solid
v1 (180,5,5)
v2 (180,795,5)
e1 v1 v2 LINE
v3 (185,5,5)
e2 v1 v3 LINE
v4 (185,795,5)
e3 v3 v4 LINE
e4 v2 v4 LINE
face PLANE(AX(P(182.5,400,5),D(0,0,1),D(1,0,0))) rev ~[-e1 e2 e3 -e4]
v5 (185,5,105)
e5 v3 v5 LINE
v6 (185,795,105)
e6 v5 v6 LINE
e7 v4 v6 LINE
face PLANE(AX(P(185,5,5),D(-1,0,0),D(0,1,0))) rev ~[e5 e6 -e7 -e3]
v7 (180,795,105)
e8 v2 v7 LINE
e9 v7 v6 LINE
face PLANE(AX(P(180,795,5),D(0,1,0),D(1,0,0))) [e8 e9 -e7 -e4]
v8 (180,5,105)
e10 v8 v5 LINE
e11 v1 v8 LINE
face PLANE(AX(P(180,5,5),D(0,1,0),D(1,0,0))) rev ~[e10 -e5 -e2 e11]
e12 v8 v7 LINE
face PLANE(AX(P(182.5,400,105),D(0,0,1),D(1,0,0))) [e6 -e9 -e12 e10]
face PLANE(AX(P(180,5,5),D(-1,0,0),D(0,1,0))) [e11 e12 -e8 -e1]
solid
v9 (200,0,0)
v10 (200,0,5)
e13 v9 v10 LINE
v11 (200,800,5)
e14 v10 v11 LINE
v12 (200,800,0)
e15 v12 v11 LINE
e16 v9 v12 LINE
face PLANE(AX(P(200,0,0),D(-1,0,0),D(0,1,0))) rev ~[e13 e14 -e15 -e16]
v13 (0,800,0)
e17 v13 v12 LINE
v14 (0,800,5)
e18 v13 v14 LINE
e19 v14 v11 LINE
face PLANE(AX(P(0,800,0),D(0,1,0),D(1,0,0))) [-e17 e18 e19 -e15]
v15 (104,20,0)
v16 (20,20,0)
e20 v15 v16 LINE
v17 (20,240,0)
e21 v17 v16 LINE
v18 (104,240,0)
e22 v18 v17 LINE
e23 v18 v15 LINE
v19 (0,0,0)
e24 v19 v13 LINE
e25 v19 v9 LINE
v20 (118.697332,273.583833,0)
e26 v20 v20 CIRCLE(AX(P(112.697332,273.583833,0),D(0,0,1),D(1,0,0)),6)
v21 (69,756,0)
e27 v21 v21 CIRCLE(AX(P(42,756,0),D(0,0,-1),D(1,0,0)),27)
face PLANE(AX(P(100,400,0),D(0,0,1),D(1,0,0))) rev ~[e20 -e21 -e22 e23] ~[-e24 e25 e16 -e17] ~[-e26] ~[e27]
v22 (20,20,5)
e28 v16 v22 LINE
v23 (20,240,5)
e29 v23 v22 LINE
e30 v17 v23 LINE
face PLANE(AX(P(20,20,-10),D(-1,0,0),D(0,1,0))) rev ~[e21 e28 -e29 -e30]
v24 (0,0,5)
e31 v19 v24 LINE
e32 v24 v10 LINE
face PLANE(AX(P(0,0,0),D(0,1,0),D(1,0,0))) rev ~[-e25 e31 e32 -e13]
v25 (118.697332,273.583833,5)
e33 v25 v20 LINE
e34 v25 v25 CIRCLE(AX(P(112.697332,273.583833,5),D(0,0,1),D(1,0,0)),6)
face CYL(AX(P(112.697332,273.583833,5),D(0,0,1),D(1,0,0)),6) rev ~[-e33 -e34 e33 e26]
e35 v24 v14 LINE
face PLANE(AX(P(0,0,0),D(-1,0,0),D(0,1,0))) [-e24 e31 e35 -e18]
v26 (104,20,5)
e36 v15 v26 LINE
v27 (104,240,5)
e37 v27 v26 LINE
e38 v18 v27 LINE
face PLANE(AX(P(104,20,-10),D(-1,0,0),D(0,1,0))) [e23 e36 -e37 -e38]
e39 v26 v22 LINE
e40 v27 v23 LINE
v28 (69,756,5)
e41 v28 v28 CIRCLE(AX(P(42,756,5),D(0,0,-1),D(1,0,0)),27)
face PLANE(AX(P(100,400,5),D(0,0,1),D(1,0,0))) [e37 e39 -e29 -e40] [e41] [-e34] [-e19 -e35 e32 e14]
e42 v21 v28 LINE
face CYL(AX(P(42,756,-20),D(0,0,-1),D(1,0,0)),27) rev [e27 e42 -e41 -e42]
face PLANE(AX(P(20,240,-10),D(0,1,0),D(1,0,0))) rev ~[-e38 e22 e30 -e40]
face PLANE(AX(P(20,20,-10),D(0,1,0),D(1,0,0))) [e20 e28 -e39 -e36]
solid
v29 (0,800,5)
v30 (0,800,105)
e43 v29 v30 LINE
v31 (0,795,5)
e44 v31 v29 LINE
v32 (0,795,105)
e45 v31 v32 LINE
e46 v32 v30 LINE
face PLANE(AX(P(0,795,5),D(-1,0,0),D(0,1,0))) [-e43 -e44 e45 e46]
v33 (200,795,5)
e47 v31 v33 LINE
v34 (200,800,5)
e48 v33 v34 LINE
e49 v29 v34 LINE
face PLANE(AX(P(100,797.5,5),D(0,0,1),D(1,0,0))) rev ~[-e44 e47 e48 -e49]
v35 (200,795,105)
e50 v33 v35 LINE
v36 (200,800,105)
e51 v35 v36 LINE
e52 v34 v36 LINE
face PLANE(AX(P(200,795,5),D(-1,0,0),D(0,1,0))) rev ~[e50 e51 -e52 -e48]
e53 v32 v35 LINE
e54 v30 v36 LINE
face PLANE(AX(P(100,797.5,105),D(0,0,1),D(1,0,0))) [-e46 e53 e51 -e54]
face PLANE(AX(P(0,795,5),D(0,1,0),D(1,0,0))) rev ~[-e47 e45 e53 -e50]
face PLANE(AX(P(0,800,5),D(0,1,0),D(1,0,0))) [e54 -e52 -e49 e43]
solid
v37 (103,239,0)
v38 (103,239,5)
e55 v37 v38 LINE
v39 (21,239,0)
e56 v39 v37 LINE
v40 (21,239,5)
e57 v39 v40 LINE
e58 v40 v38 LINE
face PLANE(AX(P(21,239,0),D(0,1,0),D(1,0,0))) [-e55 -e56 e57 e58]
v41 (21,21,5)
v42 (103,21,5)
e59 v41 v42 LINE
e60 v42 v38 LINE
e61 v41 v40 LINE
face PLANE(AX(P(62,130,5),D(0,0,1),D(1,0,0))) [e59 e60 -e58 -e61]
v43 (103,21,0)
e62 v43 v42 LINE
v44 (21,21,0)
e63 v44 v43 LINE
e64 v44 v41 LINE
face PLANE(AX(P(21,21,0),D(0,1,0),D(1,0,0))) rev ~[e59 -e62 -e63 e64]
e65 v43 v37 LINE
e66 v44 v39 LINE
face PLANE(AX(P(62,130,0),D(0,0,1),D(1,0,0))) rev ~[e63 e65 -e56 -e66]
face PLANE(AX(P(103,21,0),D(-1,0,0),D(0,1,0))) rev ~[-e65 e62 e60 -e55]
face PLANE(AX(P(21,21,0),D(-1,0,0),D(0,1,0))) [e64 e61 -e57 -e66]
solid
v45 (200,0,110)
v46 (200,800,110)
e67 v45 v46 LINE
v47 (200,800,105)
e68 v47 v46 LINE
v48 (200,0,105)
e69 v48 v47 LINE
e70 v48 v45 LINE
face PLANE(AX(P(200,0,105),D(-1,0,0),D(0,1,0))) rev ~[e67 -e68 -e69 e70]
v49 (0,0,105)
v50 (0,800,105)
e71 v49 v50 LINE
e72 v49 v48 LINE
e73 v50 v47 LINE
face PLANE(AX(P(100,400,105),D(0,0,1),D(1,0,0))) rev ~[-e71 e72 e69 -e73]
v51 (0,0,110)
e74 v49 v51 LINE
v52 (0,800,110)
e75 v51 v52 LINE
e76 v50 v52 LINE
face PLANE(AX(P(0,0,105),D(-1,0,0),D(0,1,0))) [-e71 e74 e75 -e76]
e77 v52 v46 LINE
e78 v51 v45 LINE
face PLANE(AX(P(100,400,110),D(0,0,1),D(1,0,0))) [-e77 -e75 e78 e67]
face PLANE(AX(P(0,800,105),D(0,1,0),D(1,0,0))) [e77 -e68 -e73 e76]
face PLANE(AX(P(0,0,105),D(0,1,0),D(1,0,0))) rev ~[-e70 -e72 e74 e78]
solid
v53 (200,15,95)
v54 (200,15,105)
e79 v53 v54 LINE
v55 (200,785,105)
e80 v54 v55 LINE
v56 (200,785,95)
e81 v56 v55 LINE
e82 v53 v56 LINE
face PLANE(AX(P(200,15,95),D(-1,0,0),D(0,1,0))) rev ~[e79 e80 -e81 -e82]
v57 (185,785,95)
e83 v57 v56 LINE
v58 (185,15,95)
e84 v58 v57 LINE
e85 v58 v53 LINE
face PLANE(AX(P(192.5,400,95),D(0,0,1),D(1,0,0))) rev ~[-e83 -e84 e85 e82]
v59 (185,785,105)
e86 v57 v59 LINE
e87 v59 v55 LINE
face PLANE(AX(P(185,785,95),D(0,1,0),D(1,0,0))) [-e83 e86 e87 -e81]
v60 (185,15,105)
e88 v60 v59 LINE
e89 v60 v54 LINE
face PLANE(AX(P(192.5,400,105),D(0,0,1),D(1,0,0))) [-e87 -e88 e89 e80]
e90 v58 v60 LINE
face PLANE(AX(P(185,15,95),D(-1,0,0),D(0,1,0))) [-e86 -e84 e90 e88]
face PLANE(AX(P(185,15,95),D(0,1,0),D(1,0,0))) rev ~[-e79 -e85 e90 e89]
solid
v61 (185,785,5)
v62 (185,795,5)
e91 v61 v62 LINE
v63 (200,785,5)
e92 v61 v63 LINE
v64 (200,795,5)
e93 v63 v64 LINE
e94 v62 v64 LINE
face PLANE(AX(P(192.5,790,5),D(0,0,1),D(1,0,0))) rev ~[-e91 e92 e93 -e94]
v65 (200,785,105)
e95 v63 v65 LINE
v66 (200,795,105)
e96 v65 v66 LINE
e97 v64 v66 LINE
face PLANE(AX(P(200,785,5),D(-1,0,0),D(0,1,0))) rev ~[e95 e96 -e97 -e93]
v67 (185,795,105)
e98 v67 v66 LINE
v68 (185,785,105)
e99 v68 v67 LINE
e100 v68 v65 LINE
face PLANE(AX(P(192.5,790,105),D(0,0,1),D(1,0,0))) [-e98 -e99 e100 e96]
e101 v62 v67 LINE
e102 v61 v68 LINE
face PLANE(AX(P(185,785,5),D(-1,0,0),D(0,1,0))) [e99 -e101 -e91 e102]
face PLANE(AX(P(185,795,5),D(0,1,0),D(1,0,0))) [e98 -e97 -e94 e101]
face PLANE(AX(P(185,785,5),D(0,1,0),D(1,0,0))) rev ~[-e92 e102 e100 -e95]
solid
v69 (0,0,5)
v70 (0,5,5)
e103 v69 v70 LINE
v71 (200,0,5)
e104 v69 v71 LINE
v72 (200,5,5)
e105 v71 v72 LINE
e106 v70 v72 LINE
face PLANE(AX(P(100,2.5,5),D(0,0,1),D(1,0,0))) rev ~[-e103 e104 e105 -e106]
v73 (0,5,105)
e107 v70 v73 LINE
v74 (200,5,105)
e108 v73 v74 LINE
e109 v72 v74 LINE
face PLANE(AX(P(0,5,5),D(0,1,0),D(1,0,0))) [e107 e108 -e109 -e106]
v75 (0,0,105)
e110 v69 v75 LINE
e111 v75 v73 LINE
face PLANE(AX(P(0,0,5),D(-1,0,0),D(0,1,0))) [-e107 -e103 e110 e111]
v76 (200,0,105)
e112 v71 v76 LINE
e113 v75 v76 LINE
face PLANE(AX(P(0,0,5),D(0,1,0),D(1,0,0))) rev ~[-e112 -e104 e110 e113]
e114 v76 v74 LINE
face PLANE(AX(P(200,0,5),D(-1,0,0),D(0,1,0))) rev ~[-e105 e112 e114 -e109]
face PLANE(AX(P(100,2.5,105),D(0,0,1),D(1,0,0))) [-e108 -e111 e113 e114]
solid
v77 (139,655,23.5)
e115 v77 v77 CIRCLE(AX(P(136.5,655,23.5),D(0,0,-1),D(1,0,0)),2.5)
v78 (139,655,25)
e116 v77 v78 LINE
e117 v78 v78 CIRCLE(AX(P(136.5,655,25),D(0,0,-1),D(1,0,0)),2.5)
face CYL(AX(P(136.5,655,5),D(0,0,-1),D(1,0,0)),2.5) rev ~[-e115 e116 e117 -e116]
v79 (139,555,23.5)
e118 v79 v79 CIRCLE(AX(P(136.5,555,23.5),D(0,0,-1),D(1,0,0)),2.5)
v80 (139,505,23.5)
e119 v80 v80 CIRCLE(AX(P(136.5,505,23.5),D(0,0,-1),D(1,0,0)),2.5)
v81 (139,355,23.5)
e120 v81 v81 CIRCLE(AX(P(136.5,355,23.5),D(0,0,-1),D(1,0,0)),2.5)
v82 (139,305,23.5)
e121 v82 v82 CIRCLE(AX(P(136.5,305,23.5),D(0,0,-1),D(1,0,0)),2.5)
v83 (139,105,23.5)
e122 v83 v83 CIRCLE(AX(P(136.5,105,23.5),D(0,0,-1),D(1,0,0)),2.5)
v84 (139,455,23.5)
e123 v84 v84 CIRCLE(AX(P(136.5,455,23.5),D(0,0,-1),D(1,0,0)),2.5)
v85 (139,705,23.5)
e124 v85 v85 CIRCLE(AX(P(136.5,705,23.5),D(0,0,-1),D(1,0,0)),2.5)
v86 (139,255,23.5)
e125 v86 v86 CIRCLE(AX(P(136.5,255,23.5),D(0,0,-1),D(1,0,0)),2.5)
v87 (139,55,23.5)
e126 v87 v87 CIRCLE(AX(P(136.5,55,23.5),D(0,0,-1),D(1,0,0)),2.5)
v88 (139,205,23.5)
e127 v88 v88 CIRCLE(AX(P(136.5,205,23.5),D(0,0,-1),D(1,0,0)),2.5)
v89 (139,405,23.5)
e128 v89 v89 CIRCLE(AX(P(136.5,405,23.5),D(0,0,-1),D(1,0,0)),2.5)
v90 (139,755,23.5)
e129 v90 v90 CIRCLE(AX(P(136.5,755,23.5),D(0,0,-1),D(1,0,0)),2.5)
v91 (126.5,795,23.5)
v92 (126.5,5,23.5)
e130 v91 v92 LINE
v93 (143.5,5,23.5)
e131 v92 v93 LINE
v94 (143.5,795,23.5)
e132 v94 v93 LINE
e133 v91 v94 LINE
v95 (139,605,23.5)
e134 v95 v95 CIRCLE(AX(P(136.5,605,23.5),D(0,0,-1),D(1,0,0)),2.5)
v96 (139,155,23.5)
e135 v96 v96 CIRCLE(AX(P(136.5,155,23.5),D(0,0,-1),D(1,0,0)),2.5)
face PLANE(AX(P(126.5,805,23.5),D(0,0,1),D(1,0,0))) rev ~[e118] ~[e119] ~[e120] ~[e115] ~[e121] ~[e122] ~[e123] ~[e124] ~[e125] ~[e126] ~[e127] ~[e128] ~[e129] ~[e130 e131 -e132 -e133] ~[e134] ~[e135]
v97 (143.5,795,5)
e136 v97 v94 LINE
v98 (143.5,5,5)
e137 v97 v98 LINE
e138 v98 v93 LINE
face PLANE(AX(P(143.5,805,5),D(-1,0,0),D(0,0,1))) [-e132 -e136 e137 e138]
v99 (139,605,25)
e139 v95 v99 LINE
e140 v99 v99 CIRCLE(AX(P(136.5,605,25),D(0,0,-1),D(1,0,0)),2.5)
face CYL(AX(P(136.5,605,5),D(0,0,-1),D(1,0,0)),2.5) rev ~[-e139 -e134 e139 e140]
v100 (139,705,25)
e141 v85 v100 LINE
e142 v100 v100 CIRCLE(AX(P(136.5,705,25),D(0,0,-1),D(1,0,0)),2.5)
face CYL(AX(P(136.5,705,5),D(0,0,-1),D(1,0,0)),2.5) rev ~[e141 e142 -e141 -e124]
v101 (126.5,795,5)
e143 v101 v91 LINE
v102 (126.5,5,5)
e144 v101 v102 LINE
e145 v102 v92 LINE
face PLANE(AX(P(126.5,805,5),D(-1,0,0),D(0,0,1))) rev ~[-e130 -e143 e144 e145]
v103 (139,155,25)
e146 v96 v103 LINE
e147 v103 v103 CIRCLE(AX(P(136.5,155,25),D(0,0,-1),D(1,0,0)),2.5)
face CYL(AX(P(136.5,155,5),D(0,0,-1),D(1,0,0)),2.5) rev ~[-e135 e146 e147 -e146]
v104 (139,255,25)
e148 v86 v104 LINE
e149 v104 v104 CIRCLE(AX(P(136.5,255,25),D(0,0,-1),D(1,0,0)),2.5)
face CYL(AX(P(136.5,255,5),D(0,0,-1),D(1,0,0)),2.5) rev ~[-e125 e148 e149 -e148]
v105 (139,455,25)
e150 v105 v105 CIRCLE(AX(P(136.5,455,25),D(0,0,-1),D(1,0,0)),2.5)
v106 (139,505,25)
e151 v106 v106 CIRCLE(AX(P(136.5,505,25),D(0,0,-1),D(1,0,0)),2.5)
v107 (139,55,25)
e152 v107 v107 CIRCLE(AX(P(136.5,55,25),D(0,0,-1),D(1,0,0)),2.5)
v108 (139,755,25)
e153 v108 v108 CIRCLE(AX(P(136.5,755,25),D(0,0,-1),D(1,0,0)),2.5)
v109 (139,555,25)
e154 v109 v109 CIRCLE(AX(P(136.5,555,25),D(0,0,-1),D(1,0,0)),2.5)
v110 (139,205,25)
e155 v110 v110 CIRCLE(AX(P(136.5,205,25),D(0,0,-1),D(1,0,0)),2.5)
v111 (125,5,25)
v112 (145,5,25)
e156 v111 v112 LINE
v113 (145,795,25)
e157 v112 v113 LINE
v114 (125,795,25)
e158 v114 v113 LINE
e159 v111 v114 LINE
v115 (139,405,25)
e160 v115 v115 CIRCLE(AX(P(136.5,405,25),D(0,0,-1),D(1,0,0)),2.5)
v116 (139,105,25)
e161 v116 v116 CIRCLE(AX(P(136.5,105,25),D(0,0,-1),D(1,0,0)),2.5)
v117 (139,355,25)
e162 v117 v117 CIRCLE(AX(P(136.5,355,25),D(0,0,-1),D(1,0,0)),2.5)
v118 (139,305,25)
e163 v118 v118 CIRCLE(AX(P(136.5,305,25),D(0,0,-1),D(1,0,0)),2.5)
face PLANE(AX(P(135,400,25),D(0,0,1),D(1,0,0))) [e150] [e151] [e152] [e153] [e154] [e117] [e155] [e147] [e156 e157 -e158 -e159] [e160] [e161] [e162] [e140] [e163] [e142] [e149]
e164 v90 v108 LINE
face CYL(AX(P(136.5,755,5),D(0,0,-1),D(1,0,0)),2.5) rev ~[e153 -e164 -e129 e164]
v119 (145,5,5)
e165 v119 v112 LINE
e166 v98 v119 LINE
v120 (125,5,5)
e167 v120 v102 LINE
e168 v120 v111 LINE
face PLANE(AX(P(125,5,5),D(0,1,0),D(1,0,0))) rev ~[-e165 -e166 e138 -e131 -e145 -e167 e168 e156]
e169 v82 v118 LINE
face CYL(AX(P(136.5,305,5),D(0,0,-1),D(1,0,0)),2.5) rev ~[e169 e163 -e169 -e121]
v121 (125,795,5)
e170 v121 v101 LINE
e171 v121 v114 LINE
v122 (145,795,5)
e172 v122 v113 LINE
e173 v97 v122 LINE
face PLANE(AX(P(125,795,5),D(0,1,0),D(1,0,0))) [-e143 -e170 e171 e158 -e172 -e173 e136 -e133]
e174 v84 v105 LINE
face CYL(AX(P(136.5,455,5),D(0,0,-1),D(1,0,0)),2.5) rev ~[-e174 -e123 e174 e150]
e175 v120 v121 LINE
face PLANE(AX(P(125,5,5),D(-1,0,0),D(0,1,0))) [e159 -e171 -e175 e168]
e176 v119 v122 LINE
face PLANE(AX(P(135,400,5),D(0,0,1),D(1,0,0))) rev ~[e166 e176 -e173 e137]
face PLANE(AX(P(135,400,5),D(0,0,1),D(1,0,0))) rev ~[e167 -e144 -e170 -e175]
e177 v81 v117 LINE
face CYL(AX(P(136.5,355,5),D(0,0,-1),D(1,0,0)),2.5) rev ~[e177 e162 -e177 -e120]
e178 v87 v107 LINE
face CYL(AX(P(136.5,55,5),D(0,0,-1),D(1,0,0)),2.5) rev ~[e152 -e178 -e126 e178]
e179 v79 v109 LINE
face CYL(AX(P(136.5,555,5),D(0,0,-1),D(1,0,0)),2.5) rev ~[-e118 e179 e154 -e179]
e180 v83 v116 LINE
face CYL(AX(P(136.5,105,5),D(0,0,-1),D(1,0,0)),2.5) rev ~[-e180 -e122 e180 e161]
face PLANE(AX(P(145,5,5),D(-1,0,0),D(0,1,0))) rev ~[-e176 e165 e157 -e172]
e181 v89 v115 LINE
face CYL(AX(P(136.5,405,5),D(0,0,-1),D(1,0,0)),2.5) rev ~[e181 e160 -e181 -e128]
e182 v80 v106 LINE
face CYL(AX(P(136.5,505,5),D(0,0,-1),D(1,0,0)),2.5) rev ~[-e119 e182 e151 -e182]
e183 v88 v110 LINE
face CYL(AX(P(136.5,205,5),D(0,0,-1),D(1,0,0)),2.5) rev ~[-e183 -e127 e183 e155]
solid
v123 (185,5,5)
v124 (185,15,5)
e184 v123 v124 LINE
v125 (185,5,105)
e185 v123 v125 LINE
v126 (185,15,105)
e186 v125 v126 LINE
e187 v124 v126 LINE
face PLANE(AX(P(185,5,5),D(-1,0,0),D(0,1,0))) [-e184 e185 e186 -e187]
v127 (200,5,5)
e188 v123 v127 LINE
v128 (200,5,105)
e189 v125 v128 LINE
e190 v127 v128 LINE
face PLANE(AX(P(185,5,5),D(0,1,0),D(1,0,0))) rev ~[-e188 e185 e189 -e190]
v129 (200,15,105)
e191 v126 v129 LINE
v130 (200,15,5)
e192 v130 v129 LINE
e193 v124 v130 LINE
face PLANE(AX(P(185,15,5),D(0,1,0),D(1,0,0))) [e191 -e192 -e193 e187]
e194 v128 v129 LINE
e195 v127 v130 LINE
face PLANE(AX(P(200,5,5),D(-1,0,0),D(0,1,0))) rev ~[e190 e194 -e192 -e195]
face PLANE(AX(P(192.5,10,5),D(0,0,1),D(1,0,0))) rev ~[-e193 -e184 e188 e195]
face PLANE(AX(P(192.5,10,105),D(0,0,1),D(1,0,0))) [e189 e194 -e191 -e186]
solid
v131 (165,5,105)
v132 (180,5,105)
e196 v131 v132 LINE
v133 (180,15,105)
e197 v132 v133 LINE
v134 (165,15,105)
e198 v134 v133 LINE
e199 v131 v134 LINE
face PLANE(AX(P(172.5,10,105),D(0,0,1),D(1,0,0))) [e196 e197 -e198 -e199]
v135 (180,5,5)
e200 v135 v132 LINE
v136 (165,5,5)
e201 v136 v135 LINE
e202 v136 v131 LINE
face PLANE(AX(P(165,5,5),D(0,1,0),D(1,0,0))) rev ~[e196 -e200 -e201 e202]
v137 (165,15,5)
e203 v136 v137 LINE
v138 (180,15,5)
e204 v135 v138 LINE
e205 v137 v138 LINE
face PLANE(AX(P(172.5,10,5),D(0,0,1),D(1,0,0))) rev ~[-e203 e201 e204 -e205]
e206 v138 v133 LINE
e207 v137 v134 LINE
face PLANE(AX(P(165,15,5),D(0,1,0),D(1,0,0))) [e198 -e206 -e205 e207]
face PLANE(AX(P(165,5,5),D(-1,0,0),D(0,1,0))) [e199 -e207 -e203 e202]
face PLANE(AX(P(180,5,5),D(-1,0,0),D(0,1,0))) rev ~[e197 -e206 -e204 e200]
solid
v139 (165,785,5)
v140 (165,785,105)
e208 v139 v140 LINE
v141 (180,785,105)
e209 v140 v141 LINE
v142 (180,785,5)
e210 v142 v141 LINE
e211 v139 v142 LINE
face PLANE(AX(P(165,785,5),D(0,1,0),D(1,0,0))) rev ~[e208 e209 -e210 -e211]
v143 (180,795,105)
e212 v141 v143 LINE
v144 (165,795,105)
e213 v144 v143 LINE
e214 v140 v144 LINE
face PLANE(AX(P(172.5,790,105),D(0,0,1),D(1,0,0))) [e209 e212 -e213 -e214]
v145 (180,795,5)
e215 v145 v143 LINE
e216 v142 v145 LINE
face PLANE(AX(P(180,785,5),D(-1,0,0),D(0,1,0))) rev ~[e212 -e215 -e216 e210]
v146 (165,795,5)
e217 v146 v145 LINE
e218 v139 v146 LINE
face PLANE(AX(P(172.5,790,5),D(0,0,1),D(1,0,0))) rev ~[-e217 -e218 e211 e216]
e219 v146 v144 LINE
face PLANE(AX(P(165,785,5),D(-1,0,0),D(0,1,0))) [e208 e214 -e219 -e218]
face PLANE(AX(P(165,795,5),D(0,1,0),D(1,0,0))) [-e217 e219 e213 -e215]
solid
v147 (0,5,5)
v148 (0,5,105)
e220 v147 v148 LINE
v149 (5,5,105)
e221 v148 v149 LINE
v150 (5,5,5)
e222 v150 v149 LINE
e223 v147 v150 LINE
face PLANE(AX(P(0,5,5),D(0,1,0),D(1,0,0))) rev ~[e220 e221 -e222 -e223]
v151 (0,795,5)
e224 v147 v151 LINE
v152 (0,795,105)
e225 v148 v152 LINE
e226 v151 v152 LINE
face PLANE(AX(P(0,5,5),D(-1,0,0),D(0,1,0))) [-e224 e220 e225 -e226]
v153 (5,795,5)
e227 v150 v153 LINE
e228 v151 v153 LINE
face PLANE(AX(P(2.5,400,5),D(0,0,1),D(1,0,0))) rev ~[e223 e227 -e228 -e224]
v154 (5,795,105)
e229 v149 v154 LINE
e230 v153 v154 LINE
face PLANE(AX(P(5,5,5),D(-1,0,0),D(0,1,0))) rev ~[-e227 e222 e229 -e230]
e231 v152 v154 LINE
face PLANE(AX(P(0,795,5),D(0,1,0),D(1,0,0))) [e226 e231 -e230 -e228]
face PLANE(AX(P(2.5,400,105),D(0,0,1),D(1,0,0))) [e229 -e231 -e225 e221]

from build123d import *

# Parameters (mm, degrees)
BOX_W          = 200
BOX_H          = 800
BOX_DEPTH      = 5
BOX002_W       = 5
BOX002_H       = 790
BOX002_DEPTH   = 100
BOX003_W       = 200
BOX003_H       = 5
BOX003_DEPTH   = 100
BOX004_W       = 200
BOX004_H       = 5
BOX004_DEPTH   = 100
BOX005_W       = 5
BOX005_H       = 790
BOX005_DEPTH   = 100
BOX007_W       = 15
BOX007_H       = 10
BOX007_DEPTH   = 100
BOX008_W       = 15
BOX008_H       = 10
BOX008_DEPTH   = 100
BOX009_W       = 15
BOX009_H       = 10
BOX009_DEPTH   = 100
BOX010_W       = 15
BOX010_H       = 10
BOX010_DEPTH   = 100
BOX006_W       = 20
BOX006_H       = 790
BOX006_DEPTH   = 20
BOX011_W       = 17
BOX011_H       = 18.5
BOX011_DEPTH   = 800
SKETCH_R       = 2.5
HOLE_DEPTH     = 25
BOX001_W       = 200
BOX001_H       = 800
BOX001_DEPTH   = 5
SKETCH001_R    = 6
HOLE001_DEPTH  = 31
CYLINDER_R     = 27
CYLINDER_DEPTH = 55
BOX012_W       = 84
BOX012_H       = 220
BOX012_DEPTH   = 20
BOX013_W       = 82
BOX013_H       = 218
BOX013_DEPTH   = 5
BOX014_W       = 15
BOX014_H       = 770
BOX014_DEPTH   = 10


with BuildPart() as roof:
    # Box → Box (new body)
    with BuildSketch(Plane.XY.offset(105)):
        with Locations((100, 400)):
            Rectangle(BOX_W, BOX_H)
    extrude(amount=BOX_DEPTH)


with BuildPart() as glass:
    # Box002 → Box002 (new body)
    with BuildSketch(Plane(origin=(180, 5, 5), x_dir=(1, 0, 0), z_dir=(0, 0, 1))):
        with Locations((2.5, 395)):
            Rectangle(BOX002_W, BOX002_H)
    extrude(amount=BOX002_DEPTH)


with BuildPart() as sideright:
    # Box003 → Box003 (new body)
    with BuildSketch(Plane.XY.offset(5)):
        with Locations((100, 2.5)):
            Rectangle(BOX003_W, BOX003_H)
    extrude(amount=BOX003_DEPTH)


with BuildPart() as sideleft:
    # Box004 → Box004 (new body)
    with BuildSketch(Plane(origin=(0, 795, 5), x_dir=(1, 0, 0), z_dir=(0, 0, 1))):
        with Locations((100, 2.5)):
            Rectangle(BOX004_W, BOX004_H)
    extrude(amount=BOX004_DEPTH)


with BuildPart() as back:
    # Box005 → Box005 (new body)
    with BuildSketch(Plane(origin=(0, 5, 5), x_dir=(1, 0, 0), z_dir=(0, 0, 1))):
        with Locations((2.5, 395)):
            Rectangle(BOX005_W, BOX005_H)
    extrude(amount=BOX005_DEPTH)


with BuildPart() as vbar1:
    # Box007 → Box007 (new body)
    with BuildSketch(Plane(origin=(185, 5, 5), x_dir=(1, 0, 0), z_dir=(0, 0, 1))):
        with Locations((7.5, 5)):
            Rectangle(BOX007_W, BOX007_H)
    extrude(amount=BOX007_DEPTH)


with BuildPart() as vbar2:
    # Box008 → Box008 (new body)
    with BuildSketch(Plane(origin=(165, 5, 5), x_dir=(1, 0, 0), z_dir=(0, 0, 1))):
        with Locations((7.5, 5)):
            Rectangle(BOX008_W, BOX008_H)
    extrude(amount=BOX008_DEPTH)


with BuildPart() as vbar3:
    # Box009 → Box009 (new body)
    with BuildSketch(Plane(origin=(185, 785, 5), x_dir=(1, 0, 0), z_dir=(0, 0, 1))):
        with Locations((7.5, 5)):
            Rectangle(BOX009_W, BOX009_H)
    extrude(amount=BOX009_DEPTH)


with BuildPart() as vbar4:
    # Box010 → Box010 (new body)
    with BuildSketch(Plane(origin=(165, 785, 5), x_dir=(1, 0, 0), z_dir=(0, 0, 1))):
        with Locations((7.5, 5)):
            Rectangle(BOX010_W, BOX010_H)
    extrude(amount=BOX010_DEPTH)


with BuildPart() as rail:
    # Box006 → Box006 (new body)
    with BuildSketch(Plane(origin=(145, 5, 85), x_dir=(1, 0, 0), z_dir=(0, 0, 1))):
        with Locations((10, 395)):
            Rectangle(BOX006_W, BOX006_H)
    extrude(amount=BOX006_DEPTH)


with BuildPart() as rail_1:
    # BaseFeature placement: moved
    add(rail.part.moved(Location((-145, -5, -85))))

    # Box011 → Box011 (cut)
    with BuildSketch(Plane(origin=(1.5, 800, 0), x_dir=(1, 0, 0), z_dir=(0, -1, 0))):
        with Locations((8.5, 9.25)):
            Rectangle(BOX011_W, BOX011_H)
    extrude(amount=BOX011_DEPTH, mode=Mode.SUBTRACT)

    # Sketch → Hole (cut)
    with BuildSketch(Plane(origin=(1.5, 800, 0), x_dir=(1, 0, 0), z_dir=(0, 0, -1))):
        with Locations((10, 50)):
            Circle(SKETCH_R)
        with Locations((10, 100)):
            Circle(SKETCH_R)
        with Locations((10, 150)):
            Circle(SKETCH_R)
        with Locations((10, 200)):
            Circle(SKETCH_R)
        with Locations((10, 250)):
            Circle(SKETCH_R)
        with Locations((10, 300)):
            Circle(SKETCH_R)
        with Locations((10, 350)):
            Circle(SKETCH_R)
        with Locations((10, 400)):
            Circle(SKETCH_R)
        with Locations((10, 450)):
            Circle(SKETCH_R)
        with Locations((10, 500)):
            Circle(SKETCH_R)
        with Locations((10, 550)):
            Circle(SKETCH_R)
        with Locations((10, 600)):
            Circle(SKETCH_R)
        with Locations((10, 650)):
            Circle(SKETCH_R)
        with Locations((10, 700)):
            Circle(SKETCH_R)
        with Locations((10, 750)):
            Circle(SKETCH_R)
    extrude(amount=-HOLE_DEPTH, mode=Mode.SUBTRACT)


with BuildPart() as rail_2:
    # Body placement: moved
    add(rail_1.part.moved(Location((125, 5, 5))))


with BuildPart() as floor:
    # Box001 → Box001 (new body)
    with BuildSketch(Plane.XY):
        with Locations((100, 400)):
            Rectangle(BOX001_W, BOX001_H)
    extrude(amount=BOX001_DEPTH)

    # Sketch001 (on Face6 of BaseFeature001) → Hole001 (cut)
    with BuildSketch(Plane.XY.offset(5)):
        with Locations((112.697332, 273.583833)):
            Circle(SKETCH001_R)
    extrude(amount=-HOLE001_DEPTH, mode=Mode.SUBTRACT)

    # Cylinder → Cylinder (cut)
    with BuildSketch(Plane(origin=(42, 756, -20), x_dir=(1, 0, 0), z_dir=(0, 0, 1))):
        Circle(CYLINDER_R)
    extrude(amount=CYLINDER_DEPTH, mode=Mode.SUBTRACT)

    # Box012 → Box012 (cut)
    with BuildSketch(Plane(origin=(20, 20, -10), x_dir=(1, 0, 0), z_dir=(0, 0, 1))):
        with Locations((42, 110)):
            Rectangle(BOX012_W, BOX012_H)
    extrude(amount=BOX012_DEPTH, mode=Mode.SUBTRACT)


with BuildPart() as door:
    # Box013 → Box013 (new body)
    with BuildSketch(Plane(origin=(21, 21, 0), x_dir=(1, 0, 0), z_dir=(0, 0, 1))):
        with Locations((41, 109)):
            Rectangle(BOX013_W, BOX013_H)
    extrude(amount=BOX013_DEPTH)


with BuildPart() as hbar:
    # Box014 → Box014 (new body)
    with BuildSketch(Plane(origin=(185, 15, 95), x_dir=(1, 0, 0), z_dir=(0, 0, 1))):
        with Locations((7.5, 385)):
            Rectangle(BOX014_W, BOX014_H)
    extrude(amount=BOX014_DEPTH)


solid = Compound([roof.part, glass.part, sideright.part, sideleft.part, back.part, vbar1.part, vbar2.part, vbar3.part, vbar4.part, rail_2.part, floor.part, door.part, hbar.part])
